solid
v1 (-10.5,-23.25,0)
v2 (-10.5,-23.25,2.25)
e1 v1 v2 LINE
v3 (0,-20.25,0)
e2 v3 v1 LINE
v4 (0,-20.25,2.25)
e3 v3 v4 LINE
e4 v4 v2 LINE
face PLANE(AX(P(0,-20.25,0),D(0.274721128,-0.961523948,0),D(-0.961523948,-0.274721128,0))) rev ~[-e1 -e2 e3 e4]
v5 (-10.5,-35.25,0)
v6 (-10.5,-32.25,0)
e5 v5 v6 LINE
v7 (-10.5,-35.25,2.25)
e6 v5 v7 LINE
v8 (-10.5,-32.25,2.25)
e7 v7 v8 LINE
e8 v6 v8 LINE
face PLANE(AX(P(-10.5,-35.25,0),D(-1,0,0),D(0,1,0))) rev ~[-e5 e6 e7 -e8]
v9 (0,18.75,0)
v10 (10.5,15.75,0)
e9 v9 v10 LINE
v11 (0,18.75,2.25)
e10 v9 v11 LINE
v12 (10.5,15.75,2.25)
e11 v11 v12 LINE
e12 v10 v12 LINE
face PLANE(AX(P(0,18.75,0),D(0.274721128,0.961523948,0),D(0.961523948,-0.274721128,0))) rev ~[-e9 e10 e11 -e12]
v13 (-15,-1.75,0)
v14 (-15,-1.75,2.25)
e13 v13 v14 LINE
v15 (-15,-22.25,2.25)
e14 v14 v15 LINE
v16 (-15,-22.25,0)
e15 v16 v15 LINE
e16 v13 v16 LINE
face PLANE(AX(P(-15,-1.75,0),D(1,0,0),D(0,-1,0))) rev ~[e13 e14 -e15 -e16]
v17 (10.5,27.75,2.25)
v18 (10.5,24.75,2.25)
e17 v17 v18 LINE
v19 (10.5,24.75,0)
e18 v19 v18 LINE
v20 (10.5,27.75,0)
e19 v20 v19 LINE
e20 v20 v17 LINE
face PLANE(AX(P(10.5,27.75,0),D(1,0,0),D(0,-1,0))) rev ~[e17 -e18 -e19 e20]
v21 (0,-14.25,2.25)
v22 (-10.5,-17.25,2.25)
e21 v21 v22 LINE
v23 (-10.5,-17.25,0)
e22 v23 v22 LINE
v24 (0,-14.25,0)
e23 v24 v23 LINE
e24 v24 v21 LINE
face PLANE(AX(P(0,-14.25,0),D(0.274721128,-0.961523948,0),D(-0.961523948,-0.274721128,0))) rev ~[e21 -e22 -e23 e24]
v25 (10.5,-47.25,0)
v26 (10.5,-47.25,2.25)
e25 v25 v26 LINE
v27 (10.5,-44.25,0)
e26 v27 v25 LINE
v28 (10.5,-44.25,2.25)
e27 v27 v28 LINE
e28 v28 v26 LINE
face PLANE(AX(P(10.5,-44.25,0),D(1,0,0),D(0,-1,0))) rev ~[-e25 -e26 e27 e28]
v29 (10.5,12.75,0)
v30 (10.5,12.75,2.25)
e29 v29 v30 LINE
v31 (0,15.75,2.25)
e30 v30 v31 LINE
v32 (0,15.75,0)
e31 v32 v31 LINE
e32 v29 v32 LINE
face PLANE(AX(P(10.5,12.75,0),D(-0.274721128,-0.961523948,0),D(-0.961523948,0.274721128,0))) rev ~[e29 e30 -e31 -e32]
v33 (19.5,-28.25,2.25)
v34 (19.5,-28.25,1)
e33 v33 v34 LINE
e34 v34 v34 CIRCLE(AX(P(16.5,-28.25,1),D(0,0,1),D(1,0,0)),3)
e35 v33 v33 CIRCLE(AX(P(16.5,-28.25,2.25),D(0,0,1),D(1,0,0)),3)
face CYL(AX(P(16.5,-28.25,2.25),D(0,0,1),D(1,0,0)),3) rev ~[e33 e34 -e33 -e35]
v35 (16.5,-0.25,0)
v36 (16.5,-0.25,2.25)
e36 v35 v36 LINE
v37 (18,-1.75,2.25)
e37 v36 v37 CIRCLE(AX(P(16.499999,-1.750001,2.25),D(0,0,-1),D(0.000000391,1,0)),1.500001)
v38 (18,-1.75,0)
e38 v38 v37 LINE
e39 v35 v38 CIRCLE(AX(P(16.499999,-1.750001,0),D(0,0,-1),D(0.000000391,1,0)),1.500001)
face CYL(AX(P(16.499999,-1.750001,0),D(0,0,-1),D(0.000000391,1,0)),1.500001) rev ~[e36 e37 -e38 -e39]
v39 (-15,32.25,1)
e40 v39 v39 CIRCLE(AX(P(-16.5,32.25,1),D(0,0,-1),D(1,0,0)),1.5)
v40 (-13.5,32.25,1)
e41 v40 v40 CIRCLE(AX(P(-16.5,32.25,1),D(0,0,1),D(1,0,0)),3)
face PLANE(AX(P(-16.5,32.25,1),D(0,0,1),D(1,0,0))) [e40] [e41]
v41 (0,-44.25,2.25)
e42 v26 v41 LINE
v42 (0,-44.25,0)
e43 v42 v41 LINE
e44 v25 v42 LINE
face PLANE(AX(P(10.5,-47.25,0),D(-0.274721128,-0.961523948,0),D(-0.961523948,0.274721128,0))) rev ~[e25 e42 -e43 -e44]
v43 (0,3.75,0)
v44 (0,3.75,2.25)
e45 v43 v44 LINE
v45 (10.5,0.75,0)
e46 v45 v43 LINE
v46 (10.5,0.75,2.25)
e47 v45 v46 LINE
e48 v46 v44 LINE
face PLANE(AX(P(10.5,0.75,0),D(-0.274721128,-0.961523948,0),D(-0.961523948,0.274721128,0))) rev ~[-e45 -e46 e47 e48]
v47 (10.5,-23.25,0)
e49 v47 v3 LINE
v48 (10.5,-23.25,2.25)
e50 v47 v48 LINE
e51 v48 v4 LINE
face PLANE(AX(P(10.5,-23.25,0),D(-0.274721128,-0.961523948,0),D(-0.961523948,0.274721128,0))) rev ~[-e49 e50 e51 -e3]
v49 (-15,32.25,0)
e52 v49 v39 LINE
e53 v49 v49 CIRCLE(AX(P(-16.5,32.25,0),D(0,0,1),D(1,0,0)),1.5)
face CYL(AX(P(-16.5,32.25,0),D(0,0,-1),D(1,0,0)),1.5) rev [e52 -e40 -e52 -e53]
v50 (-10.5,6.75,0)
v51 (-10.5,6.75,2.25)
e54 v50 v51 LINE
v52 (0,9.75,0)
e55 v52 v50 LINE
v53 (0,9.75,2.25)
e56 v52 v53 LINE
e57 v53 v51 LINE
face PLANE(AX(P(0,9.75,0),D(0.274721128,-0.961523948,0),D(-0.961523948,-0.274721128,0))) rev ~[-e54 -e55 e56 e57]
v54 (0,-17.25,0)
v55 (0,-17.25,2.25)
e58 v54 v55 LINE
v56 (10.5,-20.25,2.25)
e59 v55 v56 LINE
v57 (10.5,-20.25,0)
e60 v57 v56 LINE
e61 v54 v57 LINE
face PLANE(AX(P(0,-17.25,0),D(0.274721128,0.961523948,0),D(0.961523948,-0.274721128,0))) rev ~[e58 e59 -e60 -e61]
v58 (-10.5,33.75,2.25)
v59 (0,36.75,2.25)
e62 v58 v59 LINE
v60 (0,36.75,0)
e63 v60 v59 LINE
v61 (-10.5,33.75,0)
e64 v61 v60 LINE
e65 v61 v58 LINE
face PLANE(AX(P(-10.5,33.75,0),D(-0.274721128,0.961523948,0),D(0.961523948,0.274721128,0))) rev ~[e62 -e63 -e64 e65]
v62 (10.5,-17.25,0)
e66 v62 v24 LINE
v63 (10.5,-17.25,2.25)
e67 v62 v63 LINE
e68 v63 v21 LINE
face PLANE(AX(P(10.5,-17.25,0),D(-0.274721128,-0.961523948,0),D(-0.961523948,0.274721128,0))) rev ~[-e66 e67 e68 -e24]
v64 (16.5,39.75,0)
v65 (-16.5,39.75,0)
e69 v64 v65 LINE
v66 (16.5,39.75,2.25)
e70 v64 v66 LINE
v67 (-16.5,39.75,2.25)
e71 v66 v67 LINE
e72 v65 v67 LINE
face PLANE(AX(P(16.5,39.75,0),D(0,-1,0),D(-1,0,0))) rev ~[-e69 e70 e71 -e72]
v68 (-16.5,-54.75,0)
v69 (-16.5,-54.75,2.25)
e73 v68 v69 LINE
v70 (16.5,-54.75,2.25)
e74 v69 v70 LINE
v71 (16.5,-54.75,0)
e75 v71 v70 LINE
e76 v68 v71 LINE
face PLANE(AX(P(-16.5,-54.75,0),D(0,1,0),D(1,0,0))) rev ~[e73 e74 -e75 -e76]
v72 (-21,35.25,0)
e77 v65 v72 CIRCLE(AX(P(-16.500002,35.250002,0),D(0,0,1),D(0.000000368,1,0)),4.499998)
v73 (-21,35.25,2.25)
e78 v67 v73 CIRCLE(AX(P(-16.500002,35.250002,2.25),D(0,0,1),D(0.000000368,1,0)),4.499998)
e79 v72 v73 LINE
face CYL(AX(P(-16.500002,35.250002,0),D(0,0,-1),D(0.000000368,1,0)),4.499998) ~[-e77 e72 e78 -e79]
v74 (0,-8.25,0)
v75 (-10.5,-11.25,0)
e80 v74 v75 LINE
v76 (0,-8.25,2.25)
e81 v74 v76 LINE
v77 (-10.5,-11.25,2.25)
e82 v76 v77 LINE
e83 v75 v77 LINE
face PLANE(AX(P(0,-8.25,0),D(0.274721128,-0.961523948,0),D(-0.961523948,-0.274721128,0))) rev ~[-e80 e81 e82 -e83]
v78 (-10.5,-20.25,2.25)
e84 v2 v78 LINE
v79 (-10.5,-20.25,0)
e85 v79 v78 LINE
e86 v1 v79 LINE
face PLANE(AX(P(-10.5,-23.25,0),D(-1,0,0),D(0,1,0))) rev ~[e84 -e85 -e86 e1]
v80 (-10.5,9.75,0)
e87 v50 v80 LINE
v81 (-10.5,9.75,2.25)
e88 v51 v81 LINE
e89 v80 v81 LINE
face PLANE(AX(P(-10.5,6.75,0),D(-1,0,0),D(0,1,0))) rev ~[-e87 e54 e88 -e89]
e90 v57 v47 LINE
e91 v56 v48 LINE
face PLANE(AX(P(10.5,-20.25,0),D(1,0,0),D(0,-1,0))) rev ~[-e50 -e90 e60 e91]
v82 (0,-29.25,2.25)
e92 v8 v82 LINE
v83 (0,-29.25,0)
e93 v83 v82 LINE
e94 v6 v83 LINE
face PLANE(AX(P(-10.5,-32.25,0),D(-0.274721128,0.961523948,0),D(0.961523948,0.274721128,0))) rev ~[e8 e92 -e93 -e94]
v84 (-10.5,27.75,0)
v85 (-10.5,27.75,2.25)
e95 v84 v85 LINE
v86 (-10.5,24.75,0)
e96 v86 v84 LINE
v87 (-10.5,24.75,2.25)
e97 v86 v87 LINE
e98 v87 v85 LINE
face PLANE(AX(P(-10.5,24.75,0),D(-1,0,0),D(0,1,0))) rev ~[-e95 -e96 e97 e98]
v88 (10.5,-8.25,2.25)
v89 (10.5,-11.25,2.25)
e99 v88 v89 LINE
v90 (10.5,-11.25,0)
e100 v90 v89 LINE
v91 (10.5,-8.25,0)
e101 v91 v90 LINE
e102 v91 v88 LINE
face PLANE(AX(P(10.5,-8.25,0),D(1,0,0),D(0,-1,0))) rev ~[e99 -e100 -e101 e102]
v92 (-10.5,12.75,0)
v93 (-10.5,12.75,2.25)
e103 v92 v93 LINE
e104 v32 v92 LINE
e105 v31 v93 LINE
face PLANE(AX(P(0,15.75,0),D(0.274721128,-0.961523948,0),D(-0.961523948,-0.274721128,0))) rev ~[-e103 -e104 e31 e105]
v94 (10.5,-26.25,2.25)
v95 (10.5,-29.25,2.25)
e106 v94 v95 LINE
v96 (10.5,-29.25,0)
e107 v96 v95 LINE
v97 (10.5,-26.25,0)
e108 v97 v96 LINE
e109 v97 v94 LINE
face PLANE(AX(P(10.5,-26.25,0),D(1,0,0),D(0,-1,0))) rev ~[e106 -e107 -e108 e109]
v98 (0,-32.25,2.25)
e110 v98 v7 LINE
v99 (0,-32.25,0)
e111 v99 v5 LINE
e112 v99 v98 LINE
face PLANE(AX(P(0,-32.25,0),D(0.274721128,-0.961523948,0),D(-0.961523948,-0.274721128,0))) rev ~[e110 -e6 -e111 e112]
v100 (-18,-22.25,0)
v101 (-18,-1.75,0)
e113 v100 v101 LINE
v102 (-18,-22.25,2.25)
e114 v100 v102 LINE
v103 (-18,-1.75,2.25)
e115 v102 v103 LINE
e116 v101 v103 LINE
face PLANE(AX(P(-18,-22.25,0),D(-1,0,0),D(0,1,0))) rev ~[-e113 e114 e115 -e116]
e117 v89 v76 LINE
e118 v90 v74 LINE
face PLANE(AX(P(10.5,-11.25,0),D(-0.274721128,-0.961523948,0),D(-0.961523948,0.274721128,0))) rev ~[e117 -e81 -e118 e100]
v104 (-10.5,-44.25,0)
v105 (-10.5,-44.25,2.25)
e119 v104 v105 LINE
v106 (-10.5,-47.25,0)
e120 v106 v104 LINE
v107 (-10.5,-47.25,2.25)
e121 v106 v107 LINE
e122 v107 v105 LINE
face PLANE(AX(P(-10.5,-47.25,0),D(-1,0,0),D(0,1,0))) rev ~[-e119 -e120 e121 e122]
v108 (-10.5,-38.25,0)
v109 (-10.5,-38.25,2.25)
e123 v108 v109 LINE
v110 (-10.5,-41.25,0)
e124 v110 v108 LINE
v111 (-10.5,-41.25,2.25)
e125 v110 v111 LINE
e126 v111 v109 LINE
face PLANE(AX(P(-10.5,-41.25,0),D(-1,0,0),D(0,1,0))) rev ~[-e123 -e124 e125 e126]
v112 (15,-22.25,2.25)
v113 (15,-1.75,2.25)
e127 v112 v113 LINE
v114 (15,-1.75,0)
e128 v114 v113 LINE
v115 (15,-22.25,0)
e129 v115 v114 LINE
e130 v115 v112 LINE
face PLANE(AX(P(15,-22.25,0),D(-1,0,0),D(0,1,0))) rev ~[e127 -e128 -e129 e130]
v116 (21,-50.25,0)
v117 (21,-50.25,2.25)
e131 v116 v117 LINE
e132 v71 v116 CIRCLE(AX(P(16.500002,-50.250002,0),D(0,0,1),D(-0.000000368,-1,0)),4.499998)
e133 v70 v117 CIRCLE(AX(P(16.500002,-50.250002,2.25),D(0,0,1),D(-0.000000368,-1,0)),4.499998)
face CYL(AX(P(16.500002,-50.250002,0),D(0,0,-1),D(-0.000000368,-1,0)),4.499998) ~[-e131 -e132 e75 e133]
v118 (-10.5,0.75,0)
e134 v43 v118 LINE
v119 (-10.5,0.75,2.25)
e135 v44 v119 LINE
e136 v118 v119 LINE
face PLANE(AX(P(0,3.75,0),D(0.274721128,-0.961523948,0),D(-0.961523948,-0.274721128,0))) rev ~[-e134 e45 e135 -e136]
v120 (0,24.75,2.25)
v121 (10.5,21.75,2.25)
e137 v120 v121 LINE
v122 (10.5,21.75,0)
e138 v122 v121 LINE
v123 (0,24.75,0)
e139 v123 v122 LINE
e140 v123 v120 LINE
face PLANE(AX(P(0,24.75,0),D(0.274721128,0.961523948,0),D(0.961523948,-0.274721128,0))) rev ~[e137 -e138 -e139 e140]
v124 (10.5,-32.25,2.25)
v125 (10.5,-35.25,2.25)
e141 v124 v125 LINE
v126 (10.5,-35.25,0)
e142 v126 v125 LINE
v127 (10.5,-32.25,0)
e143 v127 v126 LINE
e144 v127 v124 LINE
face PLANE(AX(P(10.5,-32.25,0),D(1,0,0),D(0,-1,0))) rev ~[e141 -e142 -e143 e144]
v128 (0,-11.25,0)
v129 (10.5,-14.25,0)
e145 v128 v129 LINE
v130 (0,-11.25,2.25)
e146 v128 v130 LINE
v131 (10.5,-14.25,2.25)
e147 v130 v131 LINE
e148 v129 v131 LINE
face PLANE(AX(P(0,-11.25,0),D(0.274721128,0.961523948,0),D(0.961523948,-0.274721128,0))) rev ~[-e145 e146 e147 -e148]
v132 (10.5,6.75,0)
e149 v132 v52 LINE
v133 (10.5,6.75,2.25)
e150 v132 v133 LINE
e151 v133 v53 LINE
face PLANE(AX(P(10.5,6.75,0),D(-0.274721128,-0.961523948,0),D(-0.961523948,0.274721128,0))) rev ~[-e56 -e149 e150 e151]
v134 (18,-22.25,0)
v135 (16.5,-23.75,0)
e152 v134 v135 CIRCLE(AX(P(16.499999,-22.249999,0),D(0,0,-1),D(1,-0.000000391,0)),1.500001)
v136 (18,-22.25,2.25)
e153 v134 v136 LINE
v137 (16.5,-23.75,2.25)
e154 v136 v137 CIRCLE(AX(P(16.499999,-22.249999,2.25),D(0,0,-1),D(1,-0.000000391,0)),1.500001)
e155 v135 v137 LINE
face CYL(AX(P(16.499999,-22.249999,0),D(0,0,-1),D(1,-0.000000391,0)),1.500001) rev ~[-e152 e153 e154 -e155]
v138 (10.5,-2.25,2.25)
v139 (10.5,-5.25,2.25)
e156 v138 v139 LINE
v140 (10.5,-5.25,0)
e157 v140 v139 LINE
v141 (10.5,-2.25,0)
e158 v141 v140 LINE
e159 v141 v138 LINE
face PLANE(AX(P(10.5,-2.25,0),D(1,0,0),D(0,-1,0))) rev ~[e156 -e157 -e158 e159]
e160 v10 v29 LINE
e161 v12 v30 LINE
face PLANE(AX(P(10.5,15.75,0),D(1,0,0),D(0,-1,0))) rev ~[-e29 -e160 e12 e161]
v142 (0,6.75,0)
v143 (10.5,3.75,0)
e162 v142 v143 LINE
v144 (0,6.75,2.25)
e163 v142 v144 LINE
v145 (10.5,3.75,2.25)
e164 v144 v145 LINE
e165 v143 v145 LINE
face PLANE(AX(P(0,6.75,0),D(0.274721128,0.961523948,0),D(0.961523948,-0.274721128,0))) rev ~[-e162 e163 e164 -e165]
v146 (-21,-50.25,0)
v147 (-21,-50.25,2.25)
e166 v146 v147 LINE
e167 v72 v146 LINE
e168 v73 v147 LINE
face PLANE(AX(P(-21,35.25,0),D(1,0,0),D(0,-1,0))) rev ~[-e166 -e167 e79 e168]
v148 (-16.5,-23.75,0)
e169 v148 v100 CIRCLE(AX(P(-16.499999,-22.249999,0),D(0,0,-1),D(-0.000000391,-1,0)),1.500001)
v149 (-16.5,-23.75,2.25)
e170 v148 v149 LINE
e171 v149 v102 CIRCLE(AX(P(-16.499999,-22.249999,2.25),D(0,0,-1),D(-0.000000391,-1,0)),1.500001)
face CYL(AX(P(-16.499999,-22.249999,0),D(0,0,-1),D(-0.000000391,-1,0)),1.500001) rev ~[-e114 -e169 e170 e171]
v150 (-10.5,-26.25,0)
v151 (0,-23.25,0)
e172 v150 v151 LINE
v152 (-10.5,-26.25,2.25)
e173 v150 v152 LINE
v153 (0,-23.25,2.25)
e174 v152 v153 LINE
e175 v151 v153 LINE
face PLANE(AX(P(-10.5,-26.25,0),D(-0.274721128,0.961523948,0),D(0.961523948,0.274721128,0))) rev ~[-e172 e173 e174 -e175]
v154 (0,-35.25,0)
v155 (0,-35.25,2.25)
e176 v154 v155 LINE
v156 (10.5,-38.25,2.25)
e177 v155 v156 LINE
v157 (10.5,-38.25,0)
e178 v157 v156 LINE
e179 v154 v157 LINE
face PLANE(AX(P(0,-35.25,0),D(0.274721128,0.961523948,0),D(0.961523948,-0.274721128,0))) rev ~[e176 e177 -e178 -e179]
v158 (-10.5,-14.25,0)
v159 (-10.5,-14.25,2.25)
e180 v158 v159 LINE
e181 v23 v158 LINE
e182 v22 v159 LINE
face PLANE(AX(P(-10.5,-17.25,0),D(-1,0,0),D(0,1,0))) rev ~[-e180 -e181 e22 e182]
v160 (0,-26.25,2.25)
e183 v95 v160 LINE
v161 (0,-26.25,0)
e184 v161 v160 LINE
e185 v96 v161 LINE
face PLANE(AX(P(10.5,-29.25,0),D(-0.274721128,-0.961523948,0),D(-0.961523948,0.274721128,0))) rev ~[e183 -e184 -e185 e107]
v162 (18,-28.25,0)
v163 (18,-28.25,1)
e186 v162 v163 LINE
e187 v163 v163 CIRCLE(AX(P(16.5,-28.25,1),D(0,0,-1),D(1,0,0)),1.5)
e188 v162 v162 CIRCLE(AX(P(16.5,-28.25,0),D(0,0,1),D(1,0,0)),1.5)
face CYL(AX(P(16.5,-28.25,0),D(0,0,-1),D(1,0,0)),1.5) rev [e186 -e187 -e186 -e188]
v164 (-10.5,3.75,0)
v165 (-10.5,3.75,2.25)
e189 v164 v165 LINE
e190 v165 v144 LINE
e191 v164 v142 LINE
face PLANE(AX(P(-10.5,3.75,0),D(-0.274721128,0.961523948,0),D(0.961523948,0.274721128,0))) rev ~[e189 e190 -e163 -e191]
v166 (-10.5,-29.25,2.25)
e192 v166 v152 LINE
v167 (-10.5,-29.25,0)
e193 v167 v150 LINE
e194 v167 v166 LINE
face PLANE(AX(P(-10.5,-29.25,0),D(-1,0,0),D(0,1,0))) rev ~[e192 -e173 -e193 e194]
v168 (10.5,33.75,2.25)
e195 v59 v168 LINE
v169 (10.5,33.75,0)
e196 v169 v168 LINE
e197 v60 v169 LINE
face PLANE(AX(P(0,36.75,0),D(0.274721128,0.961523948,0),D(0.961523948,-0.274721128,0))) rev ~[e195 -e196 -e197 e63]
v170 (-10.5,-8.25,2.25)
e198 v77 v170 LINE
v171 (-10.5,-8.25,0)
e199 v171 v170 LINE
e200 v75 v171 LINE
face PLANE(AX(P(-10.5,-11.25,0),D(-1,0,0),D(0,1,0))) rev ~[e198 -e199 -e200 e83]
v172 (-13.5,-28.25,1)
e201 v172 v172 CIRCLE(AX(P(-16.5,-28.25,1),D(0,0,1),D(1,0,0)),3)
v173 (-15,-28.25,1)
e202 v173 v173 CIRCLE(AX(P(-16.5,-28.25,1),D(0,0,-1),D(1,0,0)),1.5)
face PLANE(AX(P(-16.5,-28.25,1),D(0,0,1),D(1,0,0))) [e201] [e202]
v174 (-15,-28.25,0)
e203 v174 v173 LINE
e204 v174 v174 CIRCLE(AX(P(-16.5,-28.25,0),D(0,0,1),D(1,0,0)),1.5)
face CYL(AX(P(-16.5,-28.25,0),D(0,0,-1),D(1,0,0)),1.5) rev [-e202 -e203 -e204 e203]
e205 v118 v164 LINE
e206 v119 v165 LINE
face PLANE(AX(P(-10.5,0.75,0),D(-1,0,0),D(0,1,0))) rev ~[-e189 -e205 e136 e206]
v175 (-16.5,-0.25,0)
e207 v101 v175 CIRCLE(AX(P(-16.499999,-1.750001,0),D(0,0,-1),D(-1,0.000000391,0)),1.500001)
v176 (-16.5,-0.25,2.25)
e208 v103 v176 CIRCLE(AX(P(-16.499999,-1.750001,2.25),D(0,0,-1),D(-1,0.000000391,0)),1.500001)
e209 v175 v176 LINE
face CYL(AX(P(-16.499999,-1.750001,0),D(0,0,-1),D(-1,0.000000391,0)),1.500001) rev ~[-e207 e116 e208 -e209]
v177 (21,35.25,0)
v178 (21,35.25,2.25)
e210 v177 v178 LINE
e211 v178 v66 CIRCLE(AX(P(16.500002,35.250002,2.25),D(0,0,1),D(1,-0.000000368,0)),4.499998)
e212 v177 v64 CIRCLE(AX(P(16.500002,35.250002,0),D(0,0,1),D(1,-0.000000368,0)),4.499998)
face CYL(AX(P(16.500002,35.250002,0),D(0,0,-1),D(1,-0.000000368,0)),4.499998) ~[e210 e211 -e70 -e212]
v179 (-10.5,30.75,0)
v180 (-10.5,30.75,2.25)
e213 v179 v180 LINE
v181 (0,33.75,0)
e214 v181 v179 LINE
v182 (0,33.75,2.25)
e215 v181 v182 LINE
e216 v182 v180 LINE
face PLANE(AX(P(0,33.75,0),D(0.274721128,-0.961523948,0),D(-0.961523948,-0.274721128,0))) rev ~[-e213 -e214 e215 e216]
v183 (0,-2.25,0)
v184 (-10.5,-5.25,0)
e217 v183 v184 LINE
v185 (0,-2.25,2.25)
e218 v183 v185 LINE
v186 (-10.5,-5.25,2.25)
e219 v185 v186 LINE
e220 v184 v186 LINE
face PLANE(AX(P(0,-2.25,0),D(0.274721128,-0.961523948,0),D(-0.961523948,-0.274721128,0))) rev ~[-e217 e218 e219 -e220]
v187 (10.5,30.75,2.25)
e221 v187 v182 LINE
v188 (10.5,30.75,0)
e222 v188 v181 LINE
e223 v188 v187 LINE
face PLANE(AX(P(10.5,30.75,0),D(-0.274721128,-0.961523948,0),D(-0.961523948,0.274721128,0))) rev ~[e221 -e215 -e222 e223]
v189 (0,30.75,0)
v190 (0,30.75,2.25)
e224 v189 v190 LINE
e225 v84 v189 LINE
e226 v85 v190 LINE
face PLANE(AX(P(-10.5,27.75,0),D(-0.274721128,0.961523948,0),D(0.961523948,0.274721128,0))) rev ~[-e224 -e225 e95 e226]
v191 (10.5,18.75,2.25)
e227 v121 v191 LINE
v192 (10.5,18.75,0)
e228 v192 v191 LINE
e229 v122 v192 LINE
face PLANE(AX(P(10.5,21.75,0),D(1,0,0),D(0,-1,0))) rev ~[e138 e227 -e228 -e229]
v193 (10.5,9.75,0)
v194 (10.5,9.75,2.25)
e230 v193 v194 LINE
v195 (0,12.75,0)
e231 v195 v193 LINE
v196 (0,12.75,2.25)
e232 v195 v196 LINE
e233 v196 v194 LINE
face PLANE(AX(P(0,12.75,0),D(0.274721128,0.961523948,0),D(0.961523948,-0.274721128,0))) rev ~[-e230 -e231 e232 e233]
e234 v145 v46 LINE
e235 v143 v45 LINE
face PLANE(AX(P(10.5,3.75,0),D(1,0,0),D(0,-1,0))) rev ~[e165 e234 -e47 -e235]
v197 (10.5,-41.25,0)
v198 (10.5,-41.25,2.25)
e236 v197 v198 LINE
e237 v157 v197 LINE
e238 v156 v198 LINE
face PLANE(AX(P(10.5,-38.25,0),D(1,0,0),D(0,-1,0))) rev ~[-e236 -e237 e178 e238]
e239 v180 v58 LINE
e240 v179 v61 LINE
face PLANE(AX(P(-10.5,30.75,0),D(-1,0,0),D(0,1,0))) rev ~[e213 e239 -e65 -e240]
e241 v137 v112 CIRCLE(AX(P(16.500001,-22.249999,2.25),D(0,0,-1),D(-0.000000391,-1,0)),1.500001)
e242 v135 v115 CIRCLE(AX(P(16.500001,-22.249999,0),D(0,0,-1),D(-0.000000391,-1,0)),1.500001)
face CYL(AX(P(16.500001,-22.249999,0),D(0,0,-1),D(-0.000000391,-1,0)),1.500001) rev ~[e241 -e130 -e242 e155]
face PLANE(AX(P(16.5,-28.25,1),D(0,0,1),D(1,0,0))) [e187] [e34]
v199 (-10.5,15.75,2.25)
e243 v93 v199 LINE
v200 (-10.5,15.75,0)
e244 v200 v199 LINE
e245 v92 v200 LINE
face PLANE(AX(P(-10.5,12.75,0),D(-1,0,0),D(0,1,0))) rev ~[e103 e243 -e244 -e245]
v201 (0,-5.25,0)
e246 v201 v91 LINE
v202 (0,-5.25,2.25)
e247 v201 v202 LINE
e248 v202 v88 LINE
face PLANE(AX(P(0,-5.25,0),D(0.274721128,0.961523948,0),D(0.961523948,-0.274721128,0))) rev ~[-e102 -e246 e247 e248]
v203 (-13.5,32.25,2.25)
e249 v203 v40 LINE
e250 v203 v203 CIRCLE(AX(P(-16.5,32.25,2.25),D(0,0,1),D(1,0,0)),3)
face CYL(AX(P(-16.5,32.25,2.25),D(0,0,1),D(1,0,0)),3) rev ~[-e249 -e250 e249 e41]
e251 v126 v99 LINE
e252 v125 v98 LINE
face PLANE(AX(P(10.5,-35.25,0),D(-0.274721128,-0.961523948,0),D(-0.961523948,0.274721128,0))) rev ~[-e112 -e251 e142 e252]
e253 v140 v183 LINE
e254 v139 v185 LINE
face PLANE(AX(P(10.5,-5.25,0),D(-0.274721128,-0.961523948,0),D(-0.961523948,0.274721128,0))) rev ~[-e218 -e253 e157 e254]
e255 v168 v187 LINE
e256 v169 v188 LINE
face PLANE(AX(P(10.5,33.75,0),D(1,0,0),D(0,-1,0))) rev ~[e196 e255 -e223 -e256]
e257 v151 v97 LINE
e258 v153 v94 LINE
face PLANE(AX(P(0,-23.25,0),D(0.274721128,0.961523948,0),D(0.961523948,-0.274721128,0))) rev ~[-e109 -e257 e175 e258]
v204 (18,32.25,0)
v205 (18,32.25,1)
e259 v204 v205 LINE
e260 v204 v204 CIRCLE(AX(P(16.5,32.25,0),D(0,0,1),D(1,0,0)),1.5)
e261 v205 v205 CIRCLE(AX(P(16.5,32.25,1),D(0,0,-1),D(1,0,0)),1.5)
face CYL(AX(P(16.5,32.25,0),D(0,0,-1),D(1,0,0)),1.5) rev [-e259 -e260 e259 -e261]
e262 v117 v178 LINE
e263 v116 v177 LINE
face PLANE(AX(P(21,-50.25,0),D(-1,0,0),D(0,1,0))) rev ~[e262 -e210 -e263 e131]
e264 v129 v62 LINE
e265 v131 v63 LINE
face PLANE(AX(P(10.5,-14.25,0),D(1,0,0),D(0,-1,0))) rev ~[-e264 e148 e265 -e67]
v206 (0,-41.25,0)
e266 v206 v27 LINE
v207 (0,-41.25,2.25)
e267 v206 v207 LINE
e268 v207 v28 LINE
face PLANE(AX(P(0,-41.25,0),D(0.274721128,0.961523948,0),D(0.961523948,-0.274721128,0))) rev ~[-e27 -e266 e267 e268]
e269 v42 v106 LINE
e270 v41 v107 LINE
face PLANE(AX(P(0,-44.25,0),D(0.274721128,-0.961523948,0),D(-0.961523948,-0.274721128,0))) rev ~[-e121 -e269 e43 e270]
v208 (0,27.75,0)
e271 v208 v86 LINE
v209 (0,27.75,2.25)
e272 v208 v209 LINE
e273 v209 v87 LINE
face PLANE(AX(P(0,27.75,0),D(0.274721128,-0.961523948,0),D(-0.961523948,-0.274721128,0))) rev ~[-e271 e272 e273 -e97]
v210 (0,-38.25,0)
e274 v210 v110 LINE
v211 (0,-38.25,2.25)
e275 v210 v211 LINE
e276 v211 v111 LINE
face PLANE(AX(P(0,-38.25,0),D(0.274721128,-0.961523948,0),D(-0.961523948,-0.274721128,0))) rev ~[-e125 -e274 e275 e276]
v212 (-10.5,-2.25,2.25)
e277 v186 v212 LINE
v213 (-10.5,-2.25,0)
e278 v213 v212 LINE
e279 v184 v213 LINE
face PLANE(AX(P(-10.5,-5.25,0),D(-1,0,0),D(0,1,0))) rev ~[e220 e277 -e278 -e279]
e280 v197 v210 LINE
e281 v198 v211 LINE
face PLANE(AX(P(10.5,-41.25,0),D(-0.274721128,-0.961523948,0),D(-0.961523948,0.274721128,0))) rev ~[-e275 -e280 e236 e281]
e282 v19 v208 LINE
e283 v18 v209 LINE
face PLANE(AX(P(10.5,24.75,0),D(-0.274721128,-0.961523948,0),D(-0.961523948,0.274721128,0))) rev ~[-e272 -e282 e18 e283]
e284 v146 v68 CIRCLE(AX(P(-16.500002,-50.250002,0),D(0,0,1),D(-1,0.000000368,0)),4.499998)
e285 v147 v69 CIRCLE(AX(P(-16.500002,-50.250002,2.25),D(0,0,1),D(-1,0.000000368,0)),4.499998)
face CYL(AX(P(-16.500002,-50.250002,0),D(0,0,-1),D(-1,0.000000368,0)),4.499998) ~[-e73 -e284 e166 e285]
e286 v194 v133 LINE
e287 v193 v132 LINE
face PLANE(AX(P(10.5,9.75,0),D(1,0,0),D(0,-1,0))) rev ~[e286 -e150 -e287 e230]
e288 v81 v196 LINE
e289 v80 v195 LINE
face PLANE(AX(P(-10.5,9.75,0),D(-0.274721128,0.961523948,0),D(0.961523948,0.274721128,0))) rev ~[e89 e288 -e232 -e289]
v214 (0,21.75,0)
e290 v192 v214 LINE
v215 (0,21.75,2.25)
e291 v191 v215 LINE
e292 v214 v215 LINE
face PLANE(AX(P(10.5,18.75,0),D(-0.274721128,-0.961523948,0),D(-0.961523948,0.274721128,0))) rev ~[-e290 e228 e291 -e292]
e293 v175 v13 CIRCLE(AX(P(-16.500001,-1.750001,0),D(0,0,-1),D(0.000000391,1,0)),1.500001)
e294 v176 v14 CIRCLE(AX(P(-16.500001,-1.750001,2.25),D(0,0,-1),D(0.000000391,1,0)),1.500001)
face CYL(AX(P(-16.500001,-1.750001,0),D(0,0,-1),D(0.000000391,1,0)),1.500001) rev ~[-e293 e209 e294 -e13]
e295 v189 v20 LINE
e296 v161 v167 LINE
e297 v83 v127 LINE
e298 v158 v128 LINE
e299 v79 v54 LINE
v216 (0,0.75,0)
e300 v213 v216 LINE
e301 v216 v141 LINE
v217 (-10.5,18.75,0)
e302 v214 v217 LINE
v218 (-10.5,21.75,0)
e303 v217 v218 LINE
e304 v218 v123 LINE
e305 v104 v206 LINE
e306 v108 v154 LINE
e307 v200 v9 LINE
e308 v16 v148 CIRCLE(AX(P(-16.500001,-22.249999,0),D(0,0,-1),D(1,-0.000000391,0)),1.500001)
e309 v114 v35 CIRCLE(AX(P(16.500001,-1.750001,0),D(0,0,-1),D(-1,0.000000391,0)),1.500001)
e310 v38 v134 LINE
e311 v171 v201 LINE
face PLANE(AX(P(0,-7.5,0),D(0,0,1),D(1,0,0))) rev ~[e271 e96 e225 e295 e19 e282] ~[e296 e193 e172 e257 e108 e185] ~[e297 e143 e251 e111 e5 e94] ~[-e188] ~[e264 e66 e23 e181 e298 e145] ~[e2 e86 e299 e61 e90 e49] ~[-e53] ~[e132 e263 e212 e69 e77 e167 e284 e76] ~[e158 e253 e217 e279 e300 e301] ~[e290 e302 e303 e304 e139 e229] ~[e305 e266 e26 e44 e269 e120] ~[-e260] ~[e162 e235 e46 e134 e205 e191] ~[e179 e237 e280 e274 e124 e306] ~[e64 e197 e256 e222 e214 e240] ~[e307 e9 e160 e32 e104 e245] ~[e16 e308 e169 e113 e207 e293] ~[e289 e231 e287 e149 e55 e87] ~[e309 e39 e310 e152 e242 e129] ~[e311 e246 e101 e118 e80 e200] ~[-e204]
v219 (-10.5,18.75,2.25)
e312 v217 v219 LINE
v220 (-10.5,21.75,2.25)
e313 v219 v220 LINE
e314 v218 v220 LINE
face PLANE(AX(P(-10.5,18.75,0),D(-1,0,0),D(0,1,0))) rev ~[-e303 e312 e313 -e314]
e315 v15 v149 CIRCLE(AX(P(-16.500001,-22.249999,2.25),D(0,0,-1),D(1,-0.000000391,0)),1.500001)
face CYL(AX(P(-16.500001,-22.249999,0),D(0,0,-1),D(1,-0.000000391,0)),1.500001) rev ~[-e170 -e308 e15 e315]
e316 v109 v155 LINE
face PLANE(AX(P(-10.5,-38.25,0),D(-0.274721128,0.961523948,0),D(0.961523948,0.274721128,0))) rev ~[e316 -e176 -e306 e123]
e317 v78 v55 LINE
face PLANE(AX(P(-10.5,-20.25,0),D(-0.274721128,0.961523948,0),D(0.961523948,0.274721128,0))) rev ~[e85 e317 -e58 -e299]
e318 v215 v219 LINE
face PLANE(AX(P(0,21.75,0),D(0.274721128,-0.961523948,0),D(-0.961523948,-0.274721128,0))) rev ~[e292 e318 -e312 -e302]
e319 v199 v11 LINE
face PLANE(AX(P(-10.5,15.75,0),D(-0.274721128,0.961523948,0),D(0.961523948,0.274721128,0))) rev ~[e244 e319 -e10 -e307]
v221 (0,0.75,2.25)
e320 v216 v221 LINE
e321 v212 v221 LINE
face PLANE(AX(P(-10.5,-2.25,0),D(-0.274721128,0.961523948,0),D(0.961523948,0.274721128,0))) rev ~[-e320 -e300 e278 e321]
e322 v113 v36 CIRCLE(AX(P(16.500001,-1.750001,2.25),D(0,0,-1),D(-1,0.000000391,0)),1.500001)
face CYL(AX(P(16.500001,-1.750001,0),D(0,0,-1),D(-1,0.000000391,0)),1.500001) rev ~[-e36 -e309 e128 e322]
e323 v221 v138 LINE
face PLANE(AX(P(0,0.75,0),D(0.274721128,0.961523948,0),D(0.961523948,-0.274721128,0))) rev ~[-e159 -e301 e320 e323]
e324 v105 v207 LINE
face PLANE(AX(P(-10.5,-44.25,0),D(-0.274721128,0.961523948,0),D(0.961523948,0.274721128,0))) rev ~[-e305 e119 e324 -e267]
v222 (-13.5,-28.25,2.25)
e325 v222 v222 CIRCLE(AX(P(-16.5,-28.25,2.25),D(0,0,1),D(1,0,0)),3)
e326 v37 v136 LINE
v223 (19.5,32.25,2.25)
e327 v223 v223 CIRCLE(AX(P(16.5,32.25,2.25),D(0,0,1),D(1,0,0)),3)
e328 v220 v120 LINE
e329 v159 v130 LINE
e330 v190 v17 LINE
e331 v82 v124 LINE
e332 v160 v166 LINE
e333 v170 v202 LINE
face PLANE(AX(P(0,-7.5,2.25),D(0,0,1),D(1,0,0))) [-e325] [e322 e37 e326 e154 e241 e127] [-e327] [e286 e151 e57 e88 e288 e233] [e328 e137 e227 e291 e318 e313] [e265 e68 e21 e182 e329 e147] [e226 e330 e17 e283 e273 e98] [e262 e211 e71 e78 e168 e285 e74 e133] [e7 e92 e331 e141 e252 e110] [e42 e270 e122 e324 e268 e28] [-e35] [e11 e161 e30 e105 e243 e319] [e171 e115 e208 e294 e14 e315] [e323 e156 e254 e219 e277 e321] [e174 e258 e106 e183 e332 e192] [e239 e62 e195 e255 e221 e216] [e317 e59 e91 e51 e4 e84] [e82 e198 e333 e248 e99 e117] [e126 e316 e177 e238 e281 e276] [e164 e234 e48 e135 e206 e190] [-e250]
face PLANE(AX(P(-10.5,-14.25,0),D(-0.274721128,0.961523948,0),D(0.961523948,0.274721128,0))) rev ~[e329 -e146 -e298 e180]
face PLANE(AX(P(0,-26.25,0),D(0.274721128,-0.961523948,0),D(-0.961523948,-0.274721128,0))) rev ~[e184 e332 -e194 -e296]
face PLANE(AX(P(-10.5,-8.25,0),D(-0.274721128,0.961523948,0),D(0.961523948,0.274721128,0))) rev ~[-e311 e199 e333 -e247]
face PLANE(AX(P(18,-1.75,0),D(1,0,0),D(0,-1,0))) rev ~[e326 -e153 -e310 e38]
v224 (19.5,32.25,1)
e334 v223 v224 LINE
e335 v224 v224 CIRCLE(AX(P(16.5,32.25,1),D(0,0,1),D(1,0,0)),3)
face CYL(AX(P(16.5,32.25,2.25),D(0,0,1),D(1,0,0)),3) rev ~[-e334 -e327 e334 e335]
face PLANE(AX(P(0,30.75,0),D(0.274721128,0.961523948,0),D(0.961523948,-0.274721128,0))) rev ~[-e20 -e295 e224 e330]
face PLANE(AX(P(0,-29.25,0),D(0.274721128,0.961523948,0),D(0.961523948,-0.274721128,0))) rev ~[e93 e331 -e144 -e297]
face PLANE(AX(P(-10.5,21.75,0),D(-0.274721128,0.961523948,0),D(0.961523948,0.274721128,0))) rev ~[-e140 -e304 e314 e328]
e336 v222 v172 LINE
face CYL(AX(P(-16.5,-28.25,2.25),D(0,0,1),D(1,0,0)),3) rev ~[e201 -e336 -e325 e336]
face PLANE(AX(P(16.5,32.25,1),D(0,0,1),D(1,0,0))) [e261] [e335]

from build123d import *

# Parameters (mm, degrees)
F0_R     = 1.5
F1_DEPTH = 2.25
F2_R     = 3
F3_DEPTH = 1.25


with BuildPart() as f1:
    # F0 (on Top) → F1 (new body)
    with BuildSketch(Plane.XY):
        with BuildLine():
            ThreePointArc((-16.5, 39.75), (-19.681981, 38.431981), (-21, 35.25))
            Line((-21, 35.25), (-21, -44.25))
            Line((-21, -44.25), (-21, -50.25))
            ThreePointArc((-21, -50.25), (-19.681981, -53.431981), (-16.5, -54.75))
            Line((-16.5, -54.75), (16.5, -54.75))
            ThreePointArc((16.5, -54.75), (19.681981, -53.431981), (21, -50.25))
            Line((21, -50.25), (21, -44.25))
            Line((21, -44.25), (21, 35.25))
            ThreePointArc((21, 35.25), (19.681981, 38.431981), (16.5, 39.75))
            Line((16.5, 39.75), (-16.5, 39.75))
        make_face()
        with Locations((-16.5, -28.25)):
            Circle(F0_R, mode=Mode.SUBTRACT)
        with BuildLine():
            ThreePointArc((-16.5, -0.25), (-15.43934, -0.68934), (-15, -1.75))
            Line((-15, -1.75), (-15, -22.25))
            ThreePointArc((-15, -22.25), (-15.43934, -23.31066), (-16.5, -23.75))
            ThreePointArc((-16.5, -23.75), (-17.56066, -23.31066), (-18, -22.25))
            Line((-18, -22.25), (-18, -1.75))
            ThreePointArc((-18, -1.75), (-17.56066, -0.68934), (-16.5, -0.25))
        make_face(mode=Mode.SUBTRACT)
        Polygon((-10.5, -44.25), (0, -41.25), (10.5, -44.25), (10.5, -47.25), (0, -44.25), (-10.5, -47.25), align=None, mode=Mode.SUBTRACT)
        Polygon((-10.5, -38.25), (0, -35.25), (10.5, -38.25), (10.5, -41.25), (0, -38.25), (-10.5, -41.25), align=None, mode=Mode.SUBTRACT)
        Polygon((-10.5, -32.25), (0, -29.25), (10.5, -32.25), (10.5, -35.25), (0, -32.25), (-10.5, -35.25), align=None, mode=Mode.SUBTRACT)
        Polygon((-10.5, -26.25), (0, -23.25), (10.5, -26.25), (10.5, -29.25), (0, -26.25), (-10.5, -29.25), align=None, mode=Mode.SUBTRACT)
        Polygon((-10.5, -20.25), (0, -17.25), (10.5, -20.25), (10.5, -23.25), (0, -20.25), (-10.5, -23.25), align=None, mode=Mode.SUBTRACT)
        Polygon((-10.5, -14.25), (0, -11.25), (10.5, -14.25), (10.5, -17.25), (0, -14.25), (-10.5, -17.25), align=None, mode=Mode.SUBTRACT)
        Polygon((-10.5, -8.25), (0, -5.25), (10.5, -8.25), (10.5, -11.25), (0, -8.25), (-10.5, -11.25), align=None, mode=Mode.SUBTRACT)
        with Locations((16.5, -28.25)):
            Circle(F0_R, mode=Mode.SUBTRACT)
        with BuildLine():
            ThreePointArc((16.5, -0.25), (17.56066, -0.68934), (18, -1.75))
            Line((18, -1.75), (18, -22.25))
            ThreePointArc((18, -22.25), (17.56066, -23.31066), (16.5, -23.75))
            ThreePointArc((16.5, -23.75), (15.43934, -23.31066), (15, -22.25))
            Line((15, -22.25), (15, -1.75))
            ThreePointArc((15, -1.75), (15.43934, -0.68934), (16.5, -0.25))
        make_face(mode=Mode.SUBTRACT)
        with Locations((-16.5, 32.25)):
            Circle(F0_R, mode=Mode.SUBTRACT)
        Polygon((-10.5, -2.25), (0, 0.75), (10.5, -2.25), (10.5, -5.25), (0, -2.25), (-10.5, -5.25), align=None, mode=Mode.SUBTRACT)
        Polygon((-10.5, 3.75), (0, 6.75), (10.5, 3.75), (10.5, 0.75), (0, 3.75), (-10.5, 0.75), align=None, mode=Mode.SUBTRACT)
        Polygon((-10.5, 9.75), (0, 12.75), (10.5, 9.75), (10.5, 6.75), (0, 9.75), (-10.5, 6.75), align=None, mode=Mode.SUBTRACT)
        Polygon((-10.5, 15.75), (0, 18.75), (10.5, 15.75), (10.5, 12.75), (0, 15.75), (-10.5, 12.75), align=None, mode=Mode.SUBTRACT)
        Polygon((-10.5, 21.75), (0, 24.75), (10.5, 21.75), (10.5, 18.75), (0, 21.75), (-10.5, 18.75), align=None, mode=Mode.SUBTRACT)
        Polygon((-10.5, 27.75), (0, 30.75), (10.5, 27.75), (10.5, 24.75), (0, 27.75), (-10.5, 24.75), align=None, mode=Mode.SUBTRACT)
        Polygon((-10.5, 33.75), (0, 36.75), (10.5, 33.75), (10.5, 30.75), (0, 33.75), (-10.5, 30.75), align=None, mode=Mode.SUBTRACT)
        with Locations((16.5, 32.25)):
            Circle(F0_R, mode=Mode.SUBTRACT)
    extrude(amount=F1_DEPTH)

    # F2 (on face) → F3 (cut)
    with BuildSketch(Plane.XY.offset(2.25)):
        with Locations((-16.5, -28.25)):
            Circle(F2_R)
        with Locations((16.5, -28.25)):
            Circle(F2_R)
        with Locations((16.5, 32.25)):
            Circle(F2_R)
        with Locations((-16.5, 32.25)):
            Circle(F2_R)
    extrude(amount=-F3_DEPTH, mode=Mode.SUBTRACT)


solid = f1.part
